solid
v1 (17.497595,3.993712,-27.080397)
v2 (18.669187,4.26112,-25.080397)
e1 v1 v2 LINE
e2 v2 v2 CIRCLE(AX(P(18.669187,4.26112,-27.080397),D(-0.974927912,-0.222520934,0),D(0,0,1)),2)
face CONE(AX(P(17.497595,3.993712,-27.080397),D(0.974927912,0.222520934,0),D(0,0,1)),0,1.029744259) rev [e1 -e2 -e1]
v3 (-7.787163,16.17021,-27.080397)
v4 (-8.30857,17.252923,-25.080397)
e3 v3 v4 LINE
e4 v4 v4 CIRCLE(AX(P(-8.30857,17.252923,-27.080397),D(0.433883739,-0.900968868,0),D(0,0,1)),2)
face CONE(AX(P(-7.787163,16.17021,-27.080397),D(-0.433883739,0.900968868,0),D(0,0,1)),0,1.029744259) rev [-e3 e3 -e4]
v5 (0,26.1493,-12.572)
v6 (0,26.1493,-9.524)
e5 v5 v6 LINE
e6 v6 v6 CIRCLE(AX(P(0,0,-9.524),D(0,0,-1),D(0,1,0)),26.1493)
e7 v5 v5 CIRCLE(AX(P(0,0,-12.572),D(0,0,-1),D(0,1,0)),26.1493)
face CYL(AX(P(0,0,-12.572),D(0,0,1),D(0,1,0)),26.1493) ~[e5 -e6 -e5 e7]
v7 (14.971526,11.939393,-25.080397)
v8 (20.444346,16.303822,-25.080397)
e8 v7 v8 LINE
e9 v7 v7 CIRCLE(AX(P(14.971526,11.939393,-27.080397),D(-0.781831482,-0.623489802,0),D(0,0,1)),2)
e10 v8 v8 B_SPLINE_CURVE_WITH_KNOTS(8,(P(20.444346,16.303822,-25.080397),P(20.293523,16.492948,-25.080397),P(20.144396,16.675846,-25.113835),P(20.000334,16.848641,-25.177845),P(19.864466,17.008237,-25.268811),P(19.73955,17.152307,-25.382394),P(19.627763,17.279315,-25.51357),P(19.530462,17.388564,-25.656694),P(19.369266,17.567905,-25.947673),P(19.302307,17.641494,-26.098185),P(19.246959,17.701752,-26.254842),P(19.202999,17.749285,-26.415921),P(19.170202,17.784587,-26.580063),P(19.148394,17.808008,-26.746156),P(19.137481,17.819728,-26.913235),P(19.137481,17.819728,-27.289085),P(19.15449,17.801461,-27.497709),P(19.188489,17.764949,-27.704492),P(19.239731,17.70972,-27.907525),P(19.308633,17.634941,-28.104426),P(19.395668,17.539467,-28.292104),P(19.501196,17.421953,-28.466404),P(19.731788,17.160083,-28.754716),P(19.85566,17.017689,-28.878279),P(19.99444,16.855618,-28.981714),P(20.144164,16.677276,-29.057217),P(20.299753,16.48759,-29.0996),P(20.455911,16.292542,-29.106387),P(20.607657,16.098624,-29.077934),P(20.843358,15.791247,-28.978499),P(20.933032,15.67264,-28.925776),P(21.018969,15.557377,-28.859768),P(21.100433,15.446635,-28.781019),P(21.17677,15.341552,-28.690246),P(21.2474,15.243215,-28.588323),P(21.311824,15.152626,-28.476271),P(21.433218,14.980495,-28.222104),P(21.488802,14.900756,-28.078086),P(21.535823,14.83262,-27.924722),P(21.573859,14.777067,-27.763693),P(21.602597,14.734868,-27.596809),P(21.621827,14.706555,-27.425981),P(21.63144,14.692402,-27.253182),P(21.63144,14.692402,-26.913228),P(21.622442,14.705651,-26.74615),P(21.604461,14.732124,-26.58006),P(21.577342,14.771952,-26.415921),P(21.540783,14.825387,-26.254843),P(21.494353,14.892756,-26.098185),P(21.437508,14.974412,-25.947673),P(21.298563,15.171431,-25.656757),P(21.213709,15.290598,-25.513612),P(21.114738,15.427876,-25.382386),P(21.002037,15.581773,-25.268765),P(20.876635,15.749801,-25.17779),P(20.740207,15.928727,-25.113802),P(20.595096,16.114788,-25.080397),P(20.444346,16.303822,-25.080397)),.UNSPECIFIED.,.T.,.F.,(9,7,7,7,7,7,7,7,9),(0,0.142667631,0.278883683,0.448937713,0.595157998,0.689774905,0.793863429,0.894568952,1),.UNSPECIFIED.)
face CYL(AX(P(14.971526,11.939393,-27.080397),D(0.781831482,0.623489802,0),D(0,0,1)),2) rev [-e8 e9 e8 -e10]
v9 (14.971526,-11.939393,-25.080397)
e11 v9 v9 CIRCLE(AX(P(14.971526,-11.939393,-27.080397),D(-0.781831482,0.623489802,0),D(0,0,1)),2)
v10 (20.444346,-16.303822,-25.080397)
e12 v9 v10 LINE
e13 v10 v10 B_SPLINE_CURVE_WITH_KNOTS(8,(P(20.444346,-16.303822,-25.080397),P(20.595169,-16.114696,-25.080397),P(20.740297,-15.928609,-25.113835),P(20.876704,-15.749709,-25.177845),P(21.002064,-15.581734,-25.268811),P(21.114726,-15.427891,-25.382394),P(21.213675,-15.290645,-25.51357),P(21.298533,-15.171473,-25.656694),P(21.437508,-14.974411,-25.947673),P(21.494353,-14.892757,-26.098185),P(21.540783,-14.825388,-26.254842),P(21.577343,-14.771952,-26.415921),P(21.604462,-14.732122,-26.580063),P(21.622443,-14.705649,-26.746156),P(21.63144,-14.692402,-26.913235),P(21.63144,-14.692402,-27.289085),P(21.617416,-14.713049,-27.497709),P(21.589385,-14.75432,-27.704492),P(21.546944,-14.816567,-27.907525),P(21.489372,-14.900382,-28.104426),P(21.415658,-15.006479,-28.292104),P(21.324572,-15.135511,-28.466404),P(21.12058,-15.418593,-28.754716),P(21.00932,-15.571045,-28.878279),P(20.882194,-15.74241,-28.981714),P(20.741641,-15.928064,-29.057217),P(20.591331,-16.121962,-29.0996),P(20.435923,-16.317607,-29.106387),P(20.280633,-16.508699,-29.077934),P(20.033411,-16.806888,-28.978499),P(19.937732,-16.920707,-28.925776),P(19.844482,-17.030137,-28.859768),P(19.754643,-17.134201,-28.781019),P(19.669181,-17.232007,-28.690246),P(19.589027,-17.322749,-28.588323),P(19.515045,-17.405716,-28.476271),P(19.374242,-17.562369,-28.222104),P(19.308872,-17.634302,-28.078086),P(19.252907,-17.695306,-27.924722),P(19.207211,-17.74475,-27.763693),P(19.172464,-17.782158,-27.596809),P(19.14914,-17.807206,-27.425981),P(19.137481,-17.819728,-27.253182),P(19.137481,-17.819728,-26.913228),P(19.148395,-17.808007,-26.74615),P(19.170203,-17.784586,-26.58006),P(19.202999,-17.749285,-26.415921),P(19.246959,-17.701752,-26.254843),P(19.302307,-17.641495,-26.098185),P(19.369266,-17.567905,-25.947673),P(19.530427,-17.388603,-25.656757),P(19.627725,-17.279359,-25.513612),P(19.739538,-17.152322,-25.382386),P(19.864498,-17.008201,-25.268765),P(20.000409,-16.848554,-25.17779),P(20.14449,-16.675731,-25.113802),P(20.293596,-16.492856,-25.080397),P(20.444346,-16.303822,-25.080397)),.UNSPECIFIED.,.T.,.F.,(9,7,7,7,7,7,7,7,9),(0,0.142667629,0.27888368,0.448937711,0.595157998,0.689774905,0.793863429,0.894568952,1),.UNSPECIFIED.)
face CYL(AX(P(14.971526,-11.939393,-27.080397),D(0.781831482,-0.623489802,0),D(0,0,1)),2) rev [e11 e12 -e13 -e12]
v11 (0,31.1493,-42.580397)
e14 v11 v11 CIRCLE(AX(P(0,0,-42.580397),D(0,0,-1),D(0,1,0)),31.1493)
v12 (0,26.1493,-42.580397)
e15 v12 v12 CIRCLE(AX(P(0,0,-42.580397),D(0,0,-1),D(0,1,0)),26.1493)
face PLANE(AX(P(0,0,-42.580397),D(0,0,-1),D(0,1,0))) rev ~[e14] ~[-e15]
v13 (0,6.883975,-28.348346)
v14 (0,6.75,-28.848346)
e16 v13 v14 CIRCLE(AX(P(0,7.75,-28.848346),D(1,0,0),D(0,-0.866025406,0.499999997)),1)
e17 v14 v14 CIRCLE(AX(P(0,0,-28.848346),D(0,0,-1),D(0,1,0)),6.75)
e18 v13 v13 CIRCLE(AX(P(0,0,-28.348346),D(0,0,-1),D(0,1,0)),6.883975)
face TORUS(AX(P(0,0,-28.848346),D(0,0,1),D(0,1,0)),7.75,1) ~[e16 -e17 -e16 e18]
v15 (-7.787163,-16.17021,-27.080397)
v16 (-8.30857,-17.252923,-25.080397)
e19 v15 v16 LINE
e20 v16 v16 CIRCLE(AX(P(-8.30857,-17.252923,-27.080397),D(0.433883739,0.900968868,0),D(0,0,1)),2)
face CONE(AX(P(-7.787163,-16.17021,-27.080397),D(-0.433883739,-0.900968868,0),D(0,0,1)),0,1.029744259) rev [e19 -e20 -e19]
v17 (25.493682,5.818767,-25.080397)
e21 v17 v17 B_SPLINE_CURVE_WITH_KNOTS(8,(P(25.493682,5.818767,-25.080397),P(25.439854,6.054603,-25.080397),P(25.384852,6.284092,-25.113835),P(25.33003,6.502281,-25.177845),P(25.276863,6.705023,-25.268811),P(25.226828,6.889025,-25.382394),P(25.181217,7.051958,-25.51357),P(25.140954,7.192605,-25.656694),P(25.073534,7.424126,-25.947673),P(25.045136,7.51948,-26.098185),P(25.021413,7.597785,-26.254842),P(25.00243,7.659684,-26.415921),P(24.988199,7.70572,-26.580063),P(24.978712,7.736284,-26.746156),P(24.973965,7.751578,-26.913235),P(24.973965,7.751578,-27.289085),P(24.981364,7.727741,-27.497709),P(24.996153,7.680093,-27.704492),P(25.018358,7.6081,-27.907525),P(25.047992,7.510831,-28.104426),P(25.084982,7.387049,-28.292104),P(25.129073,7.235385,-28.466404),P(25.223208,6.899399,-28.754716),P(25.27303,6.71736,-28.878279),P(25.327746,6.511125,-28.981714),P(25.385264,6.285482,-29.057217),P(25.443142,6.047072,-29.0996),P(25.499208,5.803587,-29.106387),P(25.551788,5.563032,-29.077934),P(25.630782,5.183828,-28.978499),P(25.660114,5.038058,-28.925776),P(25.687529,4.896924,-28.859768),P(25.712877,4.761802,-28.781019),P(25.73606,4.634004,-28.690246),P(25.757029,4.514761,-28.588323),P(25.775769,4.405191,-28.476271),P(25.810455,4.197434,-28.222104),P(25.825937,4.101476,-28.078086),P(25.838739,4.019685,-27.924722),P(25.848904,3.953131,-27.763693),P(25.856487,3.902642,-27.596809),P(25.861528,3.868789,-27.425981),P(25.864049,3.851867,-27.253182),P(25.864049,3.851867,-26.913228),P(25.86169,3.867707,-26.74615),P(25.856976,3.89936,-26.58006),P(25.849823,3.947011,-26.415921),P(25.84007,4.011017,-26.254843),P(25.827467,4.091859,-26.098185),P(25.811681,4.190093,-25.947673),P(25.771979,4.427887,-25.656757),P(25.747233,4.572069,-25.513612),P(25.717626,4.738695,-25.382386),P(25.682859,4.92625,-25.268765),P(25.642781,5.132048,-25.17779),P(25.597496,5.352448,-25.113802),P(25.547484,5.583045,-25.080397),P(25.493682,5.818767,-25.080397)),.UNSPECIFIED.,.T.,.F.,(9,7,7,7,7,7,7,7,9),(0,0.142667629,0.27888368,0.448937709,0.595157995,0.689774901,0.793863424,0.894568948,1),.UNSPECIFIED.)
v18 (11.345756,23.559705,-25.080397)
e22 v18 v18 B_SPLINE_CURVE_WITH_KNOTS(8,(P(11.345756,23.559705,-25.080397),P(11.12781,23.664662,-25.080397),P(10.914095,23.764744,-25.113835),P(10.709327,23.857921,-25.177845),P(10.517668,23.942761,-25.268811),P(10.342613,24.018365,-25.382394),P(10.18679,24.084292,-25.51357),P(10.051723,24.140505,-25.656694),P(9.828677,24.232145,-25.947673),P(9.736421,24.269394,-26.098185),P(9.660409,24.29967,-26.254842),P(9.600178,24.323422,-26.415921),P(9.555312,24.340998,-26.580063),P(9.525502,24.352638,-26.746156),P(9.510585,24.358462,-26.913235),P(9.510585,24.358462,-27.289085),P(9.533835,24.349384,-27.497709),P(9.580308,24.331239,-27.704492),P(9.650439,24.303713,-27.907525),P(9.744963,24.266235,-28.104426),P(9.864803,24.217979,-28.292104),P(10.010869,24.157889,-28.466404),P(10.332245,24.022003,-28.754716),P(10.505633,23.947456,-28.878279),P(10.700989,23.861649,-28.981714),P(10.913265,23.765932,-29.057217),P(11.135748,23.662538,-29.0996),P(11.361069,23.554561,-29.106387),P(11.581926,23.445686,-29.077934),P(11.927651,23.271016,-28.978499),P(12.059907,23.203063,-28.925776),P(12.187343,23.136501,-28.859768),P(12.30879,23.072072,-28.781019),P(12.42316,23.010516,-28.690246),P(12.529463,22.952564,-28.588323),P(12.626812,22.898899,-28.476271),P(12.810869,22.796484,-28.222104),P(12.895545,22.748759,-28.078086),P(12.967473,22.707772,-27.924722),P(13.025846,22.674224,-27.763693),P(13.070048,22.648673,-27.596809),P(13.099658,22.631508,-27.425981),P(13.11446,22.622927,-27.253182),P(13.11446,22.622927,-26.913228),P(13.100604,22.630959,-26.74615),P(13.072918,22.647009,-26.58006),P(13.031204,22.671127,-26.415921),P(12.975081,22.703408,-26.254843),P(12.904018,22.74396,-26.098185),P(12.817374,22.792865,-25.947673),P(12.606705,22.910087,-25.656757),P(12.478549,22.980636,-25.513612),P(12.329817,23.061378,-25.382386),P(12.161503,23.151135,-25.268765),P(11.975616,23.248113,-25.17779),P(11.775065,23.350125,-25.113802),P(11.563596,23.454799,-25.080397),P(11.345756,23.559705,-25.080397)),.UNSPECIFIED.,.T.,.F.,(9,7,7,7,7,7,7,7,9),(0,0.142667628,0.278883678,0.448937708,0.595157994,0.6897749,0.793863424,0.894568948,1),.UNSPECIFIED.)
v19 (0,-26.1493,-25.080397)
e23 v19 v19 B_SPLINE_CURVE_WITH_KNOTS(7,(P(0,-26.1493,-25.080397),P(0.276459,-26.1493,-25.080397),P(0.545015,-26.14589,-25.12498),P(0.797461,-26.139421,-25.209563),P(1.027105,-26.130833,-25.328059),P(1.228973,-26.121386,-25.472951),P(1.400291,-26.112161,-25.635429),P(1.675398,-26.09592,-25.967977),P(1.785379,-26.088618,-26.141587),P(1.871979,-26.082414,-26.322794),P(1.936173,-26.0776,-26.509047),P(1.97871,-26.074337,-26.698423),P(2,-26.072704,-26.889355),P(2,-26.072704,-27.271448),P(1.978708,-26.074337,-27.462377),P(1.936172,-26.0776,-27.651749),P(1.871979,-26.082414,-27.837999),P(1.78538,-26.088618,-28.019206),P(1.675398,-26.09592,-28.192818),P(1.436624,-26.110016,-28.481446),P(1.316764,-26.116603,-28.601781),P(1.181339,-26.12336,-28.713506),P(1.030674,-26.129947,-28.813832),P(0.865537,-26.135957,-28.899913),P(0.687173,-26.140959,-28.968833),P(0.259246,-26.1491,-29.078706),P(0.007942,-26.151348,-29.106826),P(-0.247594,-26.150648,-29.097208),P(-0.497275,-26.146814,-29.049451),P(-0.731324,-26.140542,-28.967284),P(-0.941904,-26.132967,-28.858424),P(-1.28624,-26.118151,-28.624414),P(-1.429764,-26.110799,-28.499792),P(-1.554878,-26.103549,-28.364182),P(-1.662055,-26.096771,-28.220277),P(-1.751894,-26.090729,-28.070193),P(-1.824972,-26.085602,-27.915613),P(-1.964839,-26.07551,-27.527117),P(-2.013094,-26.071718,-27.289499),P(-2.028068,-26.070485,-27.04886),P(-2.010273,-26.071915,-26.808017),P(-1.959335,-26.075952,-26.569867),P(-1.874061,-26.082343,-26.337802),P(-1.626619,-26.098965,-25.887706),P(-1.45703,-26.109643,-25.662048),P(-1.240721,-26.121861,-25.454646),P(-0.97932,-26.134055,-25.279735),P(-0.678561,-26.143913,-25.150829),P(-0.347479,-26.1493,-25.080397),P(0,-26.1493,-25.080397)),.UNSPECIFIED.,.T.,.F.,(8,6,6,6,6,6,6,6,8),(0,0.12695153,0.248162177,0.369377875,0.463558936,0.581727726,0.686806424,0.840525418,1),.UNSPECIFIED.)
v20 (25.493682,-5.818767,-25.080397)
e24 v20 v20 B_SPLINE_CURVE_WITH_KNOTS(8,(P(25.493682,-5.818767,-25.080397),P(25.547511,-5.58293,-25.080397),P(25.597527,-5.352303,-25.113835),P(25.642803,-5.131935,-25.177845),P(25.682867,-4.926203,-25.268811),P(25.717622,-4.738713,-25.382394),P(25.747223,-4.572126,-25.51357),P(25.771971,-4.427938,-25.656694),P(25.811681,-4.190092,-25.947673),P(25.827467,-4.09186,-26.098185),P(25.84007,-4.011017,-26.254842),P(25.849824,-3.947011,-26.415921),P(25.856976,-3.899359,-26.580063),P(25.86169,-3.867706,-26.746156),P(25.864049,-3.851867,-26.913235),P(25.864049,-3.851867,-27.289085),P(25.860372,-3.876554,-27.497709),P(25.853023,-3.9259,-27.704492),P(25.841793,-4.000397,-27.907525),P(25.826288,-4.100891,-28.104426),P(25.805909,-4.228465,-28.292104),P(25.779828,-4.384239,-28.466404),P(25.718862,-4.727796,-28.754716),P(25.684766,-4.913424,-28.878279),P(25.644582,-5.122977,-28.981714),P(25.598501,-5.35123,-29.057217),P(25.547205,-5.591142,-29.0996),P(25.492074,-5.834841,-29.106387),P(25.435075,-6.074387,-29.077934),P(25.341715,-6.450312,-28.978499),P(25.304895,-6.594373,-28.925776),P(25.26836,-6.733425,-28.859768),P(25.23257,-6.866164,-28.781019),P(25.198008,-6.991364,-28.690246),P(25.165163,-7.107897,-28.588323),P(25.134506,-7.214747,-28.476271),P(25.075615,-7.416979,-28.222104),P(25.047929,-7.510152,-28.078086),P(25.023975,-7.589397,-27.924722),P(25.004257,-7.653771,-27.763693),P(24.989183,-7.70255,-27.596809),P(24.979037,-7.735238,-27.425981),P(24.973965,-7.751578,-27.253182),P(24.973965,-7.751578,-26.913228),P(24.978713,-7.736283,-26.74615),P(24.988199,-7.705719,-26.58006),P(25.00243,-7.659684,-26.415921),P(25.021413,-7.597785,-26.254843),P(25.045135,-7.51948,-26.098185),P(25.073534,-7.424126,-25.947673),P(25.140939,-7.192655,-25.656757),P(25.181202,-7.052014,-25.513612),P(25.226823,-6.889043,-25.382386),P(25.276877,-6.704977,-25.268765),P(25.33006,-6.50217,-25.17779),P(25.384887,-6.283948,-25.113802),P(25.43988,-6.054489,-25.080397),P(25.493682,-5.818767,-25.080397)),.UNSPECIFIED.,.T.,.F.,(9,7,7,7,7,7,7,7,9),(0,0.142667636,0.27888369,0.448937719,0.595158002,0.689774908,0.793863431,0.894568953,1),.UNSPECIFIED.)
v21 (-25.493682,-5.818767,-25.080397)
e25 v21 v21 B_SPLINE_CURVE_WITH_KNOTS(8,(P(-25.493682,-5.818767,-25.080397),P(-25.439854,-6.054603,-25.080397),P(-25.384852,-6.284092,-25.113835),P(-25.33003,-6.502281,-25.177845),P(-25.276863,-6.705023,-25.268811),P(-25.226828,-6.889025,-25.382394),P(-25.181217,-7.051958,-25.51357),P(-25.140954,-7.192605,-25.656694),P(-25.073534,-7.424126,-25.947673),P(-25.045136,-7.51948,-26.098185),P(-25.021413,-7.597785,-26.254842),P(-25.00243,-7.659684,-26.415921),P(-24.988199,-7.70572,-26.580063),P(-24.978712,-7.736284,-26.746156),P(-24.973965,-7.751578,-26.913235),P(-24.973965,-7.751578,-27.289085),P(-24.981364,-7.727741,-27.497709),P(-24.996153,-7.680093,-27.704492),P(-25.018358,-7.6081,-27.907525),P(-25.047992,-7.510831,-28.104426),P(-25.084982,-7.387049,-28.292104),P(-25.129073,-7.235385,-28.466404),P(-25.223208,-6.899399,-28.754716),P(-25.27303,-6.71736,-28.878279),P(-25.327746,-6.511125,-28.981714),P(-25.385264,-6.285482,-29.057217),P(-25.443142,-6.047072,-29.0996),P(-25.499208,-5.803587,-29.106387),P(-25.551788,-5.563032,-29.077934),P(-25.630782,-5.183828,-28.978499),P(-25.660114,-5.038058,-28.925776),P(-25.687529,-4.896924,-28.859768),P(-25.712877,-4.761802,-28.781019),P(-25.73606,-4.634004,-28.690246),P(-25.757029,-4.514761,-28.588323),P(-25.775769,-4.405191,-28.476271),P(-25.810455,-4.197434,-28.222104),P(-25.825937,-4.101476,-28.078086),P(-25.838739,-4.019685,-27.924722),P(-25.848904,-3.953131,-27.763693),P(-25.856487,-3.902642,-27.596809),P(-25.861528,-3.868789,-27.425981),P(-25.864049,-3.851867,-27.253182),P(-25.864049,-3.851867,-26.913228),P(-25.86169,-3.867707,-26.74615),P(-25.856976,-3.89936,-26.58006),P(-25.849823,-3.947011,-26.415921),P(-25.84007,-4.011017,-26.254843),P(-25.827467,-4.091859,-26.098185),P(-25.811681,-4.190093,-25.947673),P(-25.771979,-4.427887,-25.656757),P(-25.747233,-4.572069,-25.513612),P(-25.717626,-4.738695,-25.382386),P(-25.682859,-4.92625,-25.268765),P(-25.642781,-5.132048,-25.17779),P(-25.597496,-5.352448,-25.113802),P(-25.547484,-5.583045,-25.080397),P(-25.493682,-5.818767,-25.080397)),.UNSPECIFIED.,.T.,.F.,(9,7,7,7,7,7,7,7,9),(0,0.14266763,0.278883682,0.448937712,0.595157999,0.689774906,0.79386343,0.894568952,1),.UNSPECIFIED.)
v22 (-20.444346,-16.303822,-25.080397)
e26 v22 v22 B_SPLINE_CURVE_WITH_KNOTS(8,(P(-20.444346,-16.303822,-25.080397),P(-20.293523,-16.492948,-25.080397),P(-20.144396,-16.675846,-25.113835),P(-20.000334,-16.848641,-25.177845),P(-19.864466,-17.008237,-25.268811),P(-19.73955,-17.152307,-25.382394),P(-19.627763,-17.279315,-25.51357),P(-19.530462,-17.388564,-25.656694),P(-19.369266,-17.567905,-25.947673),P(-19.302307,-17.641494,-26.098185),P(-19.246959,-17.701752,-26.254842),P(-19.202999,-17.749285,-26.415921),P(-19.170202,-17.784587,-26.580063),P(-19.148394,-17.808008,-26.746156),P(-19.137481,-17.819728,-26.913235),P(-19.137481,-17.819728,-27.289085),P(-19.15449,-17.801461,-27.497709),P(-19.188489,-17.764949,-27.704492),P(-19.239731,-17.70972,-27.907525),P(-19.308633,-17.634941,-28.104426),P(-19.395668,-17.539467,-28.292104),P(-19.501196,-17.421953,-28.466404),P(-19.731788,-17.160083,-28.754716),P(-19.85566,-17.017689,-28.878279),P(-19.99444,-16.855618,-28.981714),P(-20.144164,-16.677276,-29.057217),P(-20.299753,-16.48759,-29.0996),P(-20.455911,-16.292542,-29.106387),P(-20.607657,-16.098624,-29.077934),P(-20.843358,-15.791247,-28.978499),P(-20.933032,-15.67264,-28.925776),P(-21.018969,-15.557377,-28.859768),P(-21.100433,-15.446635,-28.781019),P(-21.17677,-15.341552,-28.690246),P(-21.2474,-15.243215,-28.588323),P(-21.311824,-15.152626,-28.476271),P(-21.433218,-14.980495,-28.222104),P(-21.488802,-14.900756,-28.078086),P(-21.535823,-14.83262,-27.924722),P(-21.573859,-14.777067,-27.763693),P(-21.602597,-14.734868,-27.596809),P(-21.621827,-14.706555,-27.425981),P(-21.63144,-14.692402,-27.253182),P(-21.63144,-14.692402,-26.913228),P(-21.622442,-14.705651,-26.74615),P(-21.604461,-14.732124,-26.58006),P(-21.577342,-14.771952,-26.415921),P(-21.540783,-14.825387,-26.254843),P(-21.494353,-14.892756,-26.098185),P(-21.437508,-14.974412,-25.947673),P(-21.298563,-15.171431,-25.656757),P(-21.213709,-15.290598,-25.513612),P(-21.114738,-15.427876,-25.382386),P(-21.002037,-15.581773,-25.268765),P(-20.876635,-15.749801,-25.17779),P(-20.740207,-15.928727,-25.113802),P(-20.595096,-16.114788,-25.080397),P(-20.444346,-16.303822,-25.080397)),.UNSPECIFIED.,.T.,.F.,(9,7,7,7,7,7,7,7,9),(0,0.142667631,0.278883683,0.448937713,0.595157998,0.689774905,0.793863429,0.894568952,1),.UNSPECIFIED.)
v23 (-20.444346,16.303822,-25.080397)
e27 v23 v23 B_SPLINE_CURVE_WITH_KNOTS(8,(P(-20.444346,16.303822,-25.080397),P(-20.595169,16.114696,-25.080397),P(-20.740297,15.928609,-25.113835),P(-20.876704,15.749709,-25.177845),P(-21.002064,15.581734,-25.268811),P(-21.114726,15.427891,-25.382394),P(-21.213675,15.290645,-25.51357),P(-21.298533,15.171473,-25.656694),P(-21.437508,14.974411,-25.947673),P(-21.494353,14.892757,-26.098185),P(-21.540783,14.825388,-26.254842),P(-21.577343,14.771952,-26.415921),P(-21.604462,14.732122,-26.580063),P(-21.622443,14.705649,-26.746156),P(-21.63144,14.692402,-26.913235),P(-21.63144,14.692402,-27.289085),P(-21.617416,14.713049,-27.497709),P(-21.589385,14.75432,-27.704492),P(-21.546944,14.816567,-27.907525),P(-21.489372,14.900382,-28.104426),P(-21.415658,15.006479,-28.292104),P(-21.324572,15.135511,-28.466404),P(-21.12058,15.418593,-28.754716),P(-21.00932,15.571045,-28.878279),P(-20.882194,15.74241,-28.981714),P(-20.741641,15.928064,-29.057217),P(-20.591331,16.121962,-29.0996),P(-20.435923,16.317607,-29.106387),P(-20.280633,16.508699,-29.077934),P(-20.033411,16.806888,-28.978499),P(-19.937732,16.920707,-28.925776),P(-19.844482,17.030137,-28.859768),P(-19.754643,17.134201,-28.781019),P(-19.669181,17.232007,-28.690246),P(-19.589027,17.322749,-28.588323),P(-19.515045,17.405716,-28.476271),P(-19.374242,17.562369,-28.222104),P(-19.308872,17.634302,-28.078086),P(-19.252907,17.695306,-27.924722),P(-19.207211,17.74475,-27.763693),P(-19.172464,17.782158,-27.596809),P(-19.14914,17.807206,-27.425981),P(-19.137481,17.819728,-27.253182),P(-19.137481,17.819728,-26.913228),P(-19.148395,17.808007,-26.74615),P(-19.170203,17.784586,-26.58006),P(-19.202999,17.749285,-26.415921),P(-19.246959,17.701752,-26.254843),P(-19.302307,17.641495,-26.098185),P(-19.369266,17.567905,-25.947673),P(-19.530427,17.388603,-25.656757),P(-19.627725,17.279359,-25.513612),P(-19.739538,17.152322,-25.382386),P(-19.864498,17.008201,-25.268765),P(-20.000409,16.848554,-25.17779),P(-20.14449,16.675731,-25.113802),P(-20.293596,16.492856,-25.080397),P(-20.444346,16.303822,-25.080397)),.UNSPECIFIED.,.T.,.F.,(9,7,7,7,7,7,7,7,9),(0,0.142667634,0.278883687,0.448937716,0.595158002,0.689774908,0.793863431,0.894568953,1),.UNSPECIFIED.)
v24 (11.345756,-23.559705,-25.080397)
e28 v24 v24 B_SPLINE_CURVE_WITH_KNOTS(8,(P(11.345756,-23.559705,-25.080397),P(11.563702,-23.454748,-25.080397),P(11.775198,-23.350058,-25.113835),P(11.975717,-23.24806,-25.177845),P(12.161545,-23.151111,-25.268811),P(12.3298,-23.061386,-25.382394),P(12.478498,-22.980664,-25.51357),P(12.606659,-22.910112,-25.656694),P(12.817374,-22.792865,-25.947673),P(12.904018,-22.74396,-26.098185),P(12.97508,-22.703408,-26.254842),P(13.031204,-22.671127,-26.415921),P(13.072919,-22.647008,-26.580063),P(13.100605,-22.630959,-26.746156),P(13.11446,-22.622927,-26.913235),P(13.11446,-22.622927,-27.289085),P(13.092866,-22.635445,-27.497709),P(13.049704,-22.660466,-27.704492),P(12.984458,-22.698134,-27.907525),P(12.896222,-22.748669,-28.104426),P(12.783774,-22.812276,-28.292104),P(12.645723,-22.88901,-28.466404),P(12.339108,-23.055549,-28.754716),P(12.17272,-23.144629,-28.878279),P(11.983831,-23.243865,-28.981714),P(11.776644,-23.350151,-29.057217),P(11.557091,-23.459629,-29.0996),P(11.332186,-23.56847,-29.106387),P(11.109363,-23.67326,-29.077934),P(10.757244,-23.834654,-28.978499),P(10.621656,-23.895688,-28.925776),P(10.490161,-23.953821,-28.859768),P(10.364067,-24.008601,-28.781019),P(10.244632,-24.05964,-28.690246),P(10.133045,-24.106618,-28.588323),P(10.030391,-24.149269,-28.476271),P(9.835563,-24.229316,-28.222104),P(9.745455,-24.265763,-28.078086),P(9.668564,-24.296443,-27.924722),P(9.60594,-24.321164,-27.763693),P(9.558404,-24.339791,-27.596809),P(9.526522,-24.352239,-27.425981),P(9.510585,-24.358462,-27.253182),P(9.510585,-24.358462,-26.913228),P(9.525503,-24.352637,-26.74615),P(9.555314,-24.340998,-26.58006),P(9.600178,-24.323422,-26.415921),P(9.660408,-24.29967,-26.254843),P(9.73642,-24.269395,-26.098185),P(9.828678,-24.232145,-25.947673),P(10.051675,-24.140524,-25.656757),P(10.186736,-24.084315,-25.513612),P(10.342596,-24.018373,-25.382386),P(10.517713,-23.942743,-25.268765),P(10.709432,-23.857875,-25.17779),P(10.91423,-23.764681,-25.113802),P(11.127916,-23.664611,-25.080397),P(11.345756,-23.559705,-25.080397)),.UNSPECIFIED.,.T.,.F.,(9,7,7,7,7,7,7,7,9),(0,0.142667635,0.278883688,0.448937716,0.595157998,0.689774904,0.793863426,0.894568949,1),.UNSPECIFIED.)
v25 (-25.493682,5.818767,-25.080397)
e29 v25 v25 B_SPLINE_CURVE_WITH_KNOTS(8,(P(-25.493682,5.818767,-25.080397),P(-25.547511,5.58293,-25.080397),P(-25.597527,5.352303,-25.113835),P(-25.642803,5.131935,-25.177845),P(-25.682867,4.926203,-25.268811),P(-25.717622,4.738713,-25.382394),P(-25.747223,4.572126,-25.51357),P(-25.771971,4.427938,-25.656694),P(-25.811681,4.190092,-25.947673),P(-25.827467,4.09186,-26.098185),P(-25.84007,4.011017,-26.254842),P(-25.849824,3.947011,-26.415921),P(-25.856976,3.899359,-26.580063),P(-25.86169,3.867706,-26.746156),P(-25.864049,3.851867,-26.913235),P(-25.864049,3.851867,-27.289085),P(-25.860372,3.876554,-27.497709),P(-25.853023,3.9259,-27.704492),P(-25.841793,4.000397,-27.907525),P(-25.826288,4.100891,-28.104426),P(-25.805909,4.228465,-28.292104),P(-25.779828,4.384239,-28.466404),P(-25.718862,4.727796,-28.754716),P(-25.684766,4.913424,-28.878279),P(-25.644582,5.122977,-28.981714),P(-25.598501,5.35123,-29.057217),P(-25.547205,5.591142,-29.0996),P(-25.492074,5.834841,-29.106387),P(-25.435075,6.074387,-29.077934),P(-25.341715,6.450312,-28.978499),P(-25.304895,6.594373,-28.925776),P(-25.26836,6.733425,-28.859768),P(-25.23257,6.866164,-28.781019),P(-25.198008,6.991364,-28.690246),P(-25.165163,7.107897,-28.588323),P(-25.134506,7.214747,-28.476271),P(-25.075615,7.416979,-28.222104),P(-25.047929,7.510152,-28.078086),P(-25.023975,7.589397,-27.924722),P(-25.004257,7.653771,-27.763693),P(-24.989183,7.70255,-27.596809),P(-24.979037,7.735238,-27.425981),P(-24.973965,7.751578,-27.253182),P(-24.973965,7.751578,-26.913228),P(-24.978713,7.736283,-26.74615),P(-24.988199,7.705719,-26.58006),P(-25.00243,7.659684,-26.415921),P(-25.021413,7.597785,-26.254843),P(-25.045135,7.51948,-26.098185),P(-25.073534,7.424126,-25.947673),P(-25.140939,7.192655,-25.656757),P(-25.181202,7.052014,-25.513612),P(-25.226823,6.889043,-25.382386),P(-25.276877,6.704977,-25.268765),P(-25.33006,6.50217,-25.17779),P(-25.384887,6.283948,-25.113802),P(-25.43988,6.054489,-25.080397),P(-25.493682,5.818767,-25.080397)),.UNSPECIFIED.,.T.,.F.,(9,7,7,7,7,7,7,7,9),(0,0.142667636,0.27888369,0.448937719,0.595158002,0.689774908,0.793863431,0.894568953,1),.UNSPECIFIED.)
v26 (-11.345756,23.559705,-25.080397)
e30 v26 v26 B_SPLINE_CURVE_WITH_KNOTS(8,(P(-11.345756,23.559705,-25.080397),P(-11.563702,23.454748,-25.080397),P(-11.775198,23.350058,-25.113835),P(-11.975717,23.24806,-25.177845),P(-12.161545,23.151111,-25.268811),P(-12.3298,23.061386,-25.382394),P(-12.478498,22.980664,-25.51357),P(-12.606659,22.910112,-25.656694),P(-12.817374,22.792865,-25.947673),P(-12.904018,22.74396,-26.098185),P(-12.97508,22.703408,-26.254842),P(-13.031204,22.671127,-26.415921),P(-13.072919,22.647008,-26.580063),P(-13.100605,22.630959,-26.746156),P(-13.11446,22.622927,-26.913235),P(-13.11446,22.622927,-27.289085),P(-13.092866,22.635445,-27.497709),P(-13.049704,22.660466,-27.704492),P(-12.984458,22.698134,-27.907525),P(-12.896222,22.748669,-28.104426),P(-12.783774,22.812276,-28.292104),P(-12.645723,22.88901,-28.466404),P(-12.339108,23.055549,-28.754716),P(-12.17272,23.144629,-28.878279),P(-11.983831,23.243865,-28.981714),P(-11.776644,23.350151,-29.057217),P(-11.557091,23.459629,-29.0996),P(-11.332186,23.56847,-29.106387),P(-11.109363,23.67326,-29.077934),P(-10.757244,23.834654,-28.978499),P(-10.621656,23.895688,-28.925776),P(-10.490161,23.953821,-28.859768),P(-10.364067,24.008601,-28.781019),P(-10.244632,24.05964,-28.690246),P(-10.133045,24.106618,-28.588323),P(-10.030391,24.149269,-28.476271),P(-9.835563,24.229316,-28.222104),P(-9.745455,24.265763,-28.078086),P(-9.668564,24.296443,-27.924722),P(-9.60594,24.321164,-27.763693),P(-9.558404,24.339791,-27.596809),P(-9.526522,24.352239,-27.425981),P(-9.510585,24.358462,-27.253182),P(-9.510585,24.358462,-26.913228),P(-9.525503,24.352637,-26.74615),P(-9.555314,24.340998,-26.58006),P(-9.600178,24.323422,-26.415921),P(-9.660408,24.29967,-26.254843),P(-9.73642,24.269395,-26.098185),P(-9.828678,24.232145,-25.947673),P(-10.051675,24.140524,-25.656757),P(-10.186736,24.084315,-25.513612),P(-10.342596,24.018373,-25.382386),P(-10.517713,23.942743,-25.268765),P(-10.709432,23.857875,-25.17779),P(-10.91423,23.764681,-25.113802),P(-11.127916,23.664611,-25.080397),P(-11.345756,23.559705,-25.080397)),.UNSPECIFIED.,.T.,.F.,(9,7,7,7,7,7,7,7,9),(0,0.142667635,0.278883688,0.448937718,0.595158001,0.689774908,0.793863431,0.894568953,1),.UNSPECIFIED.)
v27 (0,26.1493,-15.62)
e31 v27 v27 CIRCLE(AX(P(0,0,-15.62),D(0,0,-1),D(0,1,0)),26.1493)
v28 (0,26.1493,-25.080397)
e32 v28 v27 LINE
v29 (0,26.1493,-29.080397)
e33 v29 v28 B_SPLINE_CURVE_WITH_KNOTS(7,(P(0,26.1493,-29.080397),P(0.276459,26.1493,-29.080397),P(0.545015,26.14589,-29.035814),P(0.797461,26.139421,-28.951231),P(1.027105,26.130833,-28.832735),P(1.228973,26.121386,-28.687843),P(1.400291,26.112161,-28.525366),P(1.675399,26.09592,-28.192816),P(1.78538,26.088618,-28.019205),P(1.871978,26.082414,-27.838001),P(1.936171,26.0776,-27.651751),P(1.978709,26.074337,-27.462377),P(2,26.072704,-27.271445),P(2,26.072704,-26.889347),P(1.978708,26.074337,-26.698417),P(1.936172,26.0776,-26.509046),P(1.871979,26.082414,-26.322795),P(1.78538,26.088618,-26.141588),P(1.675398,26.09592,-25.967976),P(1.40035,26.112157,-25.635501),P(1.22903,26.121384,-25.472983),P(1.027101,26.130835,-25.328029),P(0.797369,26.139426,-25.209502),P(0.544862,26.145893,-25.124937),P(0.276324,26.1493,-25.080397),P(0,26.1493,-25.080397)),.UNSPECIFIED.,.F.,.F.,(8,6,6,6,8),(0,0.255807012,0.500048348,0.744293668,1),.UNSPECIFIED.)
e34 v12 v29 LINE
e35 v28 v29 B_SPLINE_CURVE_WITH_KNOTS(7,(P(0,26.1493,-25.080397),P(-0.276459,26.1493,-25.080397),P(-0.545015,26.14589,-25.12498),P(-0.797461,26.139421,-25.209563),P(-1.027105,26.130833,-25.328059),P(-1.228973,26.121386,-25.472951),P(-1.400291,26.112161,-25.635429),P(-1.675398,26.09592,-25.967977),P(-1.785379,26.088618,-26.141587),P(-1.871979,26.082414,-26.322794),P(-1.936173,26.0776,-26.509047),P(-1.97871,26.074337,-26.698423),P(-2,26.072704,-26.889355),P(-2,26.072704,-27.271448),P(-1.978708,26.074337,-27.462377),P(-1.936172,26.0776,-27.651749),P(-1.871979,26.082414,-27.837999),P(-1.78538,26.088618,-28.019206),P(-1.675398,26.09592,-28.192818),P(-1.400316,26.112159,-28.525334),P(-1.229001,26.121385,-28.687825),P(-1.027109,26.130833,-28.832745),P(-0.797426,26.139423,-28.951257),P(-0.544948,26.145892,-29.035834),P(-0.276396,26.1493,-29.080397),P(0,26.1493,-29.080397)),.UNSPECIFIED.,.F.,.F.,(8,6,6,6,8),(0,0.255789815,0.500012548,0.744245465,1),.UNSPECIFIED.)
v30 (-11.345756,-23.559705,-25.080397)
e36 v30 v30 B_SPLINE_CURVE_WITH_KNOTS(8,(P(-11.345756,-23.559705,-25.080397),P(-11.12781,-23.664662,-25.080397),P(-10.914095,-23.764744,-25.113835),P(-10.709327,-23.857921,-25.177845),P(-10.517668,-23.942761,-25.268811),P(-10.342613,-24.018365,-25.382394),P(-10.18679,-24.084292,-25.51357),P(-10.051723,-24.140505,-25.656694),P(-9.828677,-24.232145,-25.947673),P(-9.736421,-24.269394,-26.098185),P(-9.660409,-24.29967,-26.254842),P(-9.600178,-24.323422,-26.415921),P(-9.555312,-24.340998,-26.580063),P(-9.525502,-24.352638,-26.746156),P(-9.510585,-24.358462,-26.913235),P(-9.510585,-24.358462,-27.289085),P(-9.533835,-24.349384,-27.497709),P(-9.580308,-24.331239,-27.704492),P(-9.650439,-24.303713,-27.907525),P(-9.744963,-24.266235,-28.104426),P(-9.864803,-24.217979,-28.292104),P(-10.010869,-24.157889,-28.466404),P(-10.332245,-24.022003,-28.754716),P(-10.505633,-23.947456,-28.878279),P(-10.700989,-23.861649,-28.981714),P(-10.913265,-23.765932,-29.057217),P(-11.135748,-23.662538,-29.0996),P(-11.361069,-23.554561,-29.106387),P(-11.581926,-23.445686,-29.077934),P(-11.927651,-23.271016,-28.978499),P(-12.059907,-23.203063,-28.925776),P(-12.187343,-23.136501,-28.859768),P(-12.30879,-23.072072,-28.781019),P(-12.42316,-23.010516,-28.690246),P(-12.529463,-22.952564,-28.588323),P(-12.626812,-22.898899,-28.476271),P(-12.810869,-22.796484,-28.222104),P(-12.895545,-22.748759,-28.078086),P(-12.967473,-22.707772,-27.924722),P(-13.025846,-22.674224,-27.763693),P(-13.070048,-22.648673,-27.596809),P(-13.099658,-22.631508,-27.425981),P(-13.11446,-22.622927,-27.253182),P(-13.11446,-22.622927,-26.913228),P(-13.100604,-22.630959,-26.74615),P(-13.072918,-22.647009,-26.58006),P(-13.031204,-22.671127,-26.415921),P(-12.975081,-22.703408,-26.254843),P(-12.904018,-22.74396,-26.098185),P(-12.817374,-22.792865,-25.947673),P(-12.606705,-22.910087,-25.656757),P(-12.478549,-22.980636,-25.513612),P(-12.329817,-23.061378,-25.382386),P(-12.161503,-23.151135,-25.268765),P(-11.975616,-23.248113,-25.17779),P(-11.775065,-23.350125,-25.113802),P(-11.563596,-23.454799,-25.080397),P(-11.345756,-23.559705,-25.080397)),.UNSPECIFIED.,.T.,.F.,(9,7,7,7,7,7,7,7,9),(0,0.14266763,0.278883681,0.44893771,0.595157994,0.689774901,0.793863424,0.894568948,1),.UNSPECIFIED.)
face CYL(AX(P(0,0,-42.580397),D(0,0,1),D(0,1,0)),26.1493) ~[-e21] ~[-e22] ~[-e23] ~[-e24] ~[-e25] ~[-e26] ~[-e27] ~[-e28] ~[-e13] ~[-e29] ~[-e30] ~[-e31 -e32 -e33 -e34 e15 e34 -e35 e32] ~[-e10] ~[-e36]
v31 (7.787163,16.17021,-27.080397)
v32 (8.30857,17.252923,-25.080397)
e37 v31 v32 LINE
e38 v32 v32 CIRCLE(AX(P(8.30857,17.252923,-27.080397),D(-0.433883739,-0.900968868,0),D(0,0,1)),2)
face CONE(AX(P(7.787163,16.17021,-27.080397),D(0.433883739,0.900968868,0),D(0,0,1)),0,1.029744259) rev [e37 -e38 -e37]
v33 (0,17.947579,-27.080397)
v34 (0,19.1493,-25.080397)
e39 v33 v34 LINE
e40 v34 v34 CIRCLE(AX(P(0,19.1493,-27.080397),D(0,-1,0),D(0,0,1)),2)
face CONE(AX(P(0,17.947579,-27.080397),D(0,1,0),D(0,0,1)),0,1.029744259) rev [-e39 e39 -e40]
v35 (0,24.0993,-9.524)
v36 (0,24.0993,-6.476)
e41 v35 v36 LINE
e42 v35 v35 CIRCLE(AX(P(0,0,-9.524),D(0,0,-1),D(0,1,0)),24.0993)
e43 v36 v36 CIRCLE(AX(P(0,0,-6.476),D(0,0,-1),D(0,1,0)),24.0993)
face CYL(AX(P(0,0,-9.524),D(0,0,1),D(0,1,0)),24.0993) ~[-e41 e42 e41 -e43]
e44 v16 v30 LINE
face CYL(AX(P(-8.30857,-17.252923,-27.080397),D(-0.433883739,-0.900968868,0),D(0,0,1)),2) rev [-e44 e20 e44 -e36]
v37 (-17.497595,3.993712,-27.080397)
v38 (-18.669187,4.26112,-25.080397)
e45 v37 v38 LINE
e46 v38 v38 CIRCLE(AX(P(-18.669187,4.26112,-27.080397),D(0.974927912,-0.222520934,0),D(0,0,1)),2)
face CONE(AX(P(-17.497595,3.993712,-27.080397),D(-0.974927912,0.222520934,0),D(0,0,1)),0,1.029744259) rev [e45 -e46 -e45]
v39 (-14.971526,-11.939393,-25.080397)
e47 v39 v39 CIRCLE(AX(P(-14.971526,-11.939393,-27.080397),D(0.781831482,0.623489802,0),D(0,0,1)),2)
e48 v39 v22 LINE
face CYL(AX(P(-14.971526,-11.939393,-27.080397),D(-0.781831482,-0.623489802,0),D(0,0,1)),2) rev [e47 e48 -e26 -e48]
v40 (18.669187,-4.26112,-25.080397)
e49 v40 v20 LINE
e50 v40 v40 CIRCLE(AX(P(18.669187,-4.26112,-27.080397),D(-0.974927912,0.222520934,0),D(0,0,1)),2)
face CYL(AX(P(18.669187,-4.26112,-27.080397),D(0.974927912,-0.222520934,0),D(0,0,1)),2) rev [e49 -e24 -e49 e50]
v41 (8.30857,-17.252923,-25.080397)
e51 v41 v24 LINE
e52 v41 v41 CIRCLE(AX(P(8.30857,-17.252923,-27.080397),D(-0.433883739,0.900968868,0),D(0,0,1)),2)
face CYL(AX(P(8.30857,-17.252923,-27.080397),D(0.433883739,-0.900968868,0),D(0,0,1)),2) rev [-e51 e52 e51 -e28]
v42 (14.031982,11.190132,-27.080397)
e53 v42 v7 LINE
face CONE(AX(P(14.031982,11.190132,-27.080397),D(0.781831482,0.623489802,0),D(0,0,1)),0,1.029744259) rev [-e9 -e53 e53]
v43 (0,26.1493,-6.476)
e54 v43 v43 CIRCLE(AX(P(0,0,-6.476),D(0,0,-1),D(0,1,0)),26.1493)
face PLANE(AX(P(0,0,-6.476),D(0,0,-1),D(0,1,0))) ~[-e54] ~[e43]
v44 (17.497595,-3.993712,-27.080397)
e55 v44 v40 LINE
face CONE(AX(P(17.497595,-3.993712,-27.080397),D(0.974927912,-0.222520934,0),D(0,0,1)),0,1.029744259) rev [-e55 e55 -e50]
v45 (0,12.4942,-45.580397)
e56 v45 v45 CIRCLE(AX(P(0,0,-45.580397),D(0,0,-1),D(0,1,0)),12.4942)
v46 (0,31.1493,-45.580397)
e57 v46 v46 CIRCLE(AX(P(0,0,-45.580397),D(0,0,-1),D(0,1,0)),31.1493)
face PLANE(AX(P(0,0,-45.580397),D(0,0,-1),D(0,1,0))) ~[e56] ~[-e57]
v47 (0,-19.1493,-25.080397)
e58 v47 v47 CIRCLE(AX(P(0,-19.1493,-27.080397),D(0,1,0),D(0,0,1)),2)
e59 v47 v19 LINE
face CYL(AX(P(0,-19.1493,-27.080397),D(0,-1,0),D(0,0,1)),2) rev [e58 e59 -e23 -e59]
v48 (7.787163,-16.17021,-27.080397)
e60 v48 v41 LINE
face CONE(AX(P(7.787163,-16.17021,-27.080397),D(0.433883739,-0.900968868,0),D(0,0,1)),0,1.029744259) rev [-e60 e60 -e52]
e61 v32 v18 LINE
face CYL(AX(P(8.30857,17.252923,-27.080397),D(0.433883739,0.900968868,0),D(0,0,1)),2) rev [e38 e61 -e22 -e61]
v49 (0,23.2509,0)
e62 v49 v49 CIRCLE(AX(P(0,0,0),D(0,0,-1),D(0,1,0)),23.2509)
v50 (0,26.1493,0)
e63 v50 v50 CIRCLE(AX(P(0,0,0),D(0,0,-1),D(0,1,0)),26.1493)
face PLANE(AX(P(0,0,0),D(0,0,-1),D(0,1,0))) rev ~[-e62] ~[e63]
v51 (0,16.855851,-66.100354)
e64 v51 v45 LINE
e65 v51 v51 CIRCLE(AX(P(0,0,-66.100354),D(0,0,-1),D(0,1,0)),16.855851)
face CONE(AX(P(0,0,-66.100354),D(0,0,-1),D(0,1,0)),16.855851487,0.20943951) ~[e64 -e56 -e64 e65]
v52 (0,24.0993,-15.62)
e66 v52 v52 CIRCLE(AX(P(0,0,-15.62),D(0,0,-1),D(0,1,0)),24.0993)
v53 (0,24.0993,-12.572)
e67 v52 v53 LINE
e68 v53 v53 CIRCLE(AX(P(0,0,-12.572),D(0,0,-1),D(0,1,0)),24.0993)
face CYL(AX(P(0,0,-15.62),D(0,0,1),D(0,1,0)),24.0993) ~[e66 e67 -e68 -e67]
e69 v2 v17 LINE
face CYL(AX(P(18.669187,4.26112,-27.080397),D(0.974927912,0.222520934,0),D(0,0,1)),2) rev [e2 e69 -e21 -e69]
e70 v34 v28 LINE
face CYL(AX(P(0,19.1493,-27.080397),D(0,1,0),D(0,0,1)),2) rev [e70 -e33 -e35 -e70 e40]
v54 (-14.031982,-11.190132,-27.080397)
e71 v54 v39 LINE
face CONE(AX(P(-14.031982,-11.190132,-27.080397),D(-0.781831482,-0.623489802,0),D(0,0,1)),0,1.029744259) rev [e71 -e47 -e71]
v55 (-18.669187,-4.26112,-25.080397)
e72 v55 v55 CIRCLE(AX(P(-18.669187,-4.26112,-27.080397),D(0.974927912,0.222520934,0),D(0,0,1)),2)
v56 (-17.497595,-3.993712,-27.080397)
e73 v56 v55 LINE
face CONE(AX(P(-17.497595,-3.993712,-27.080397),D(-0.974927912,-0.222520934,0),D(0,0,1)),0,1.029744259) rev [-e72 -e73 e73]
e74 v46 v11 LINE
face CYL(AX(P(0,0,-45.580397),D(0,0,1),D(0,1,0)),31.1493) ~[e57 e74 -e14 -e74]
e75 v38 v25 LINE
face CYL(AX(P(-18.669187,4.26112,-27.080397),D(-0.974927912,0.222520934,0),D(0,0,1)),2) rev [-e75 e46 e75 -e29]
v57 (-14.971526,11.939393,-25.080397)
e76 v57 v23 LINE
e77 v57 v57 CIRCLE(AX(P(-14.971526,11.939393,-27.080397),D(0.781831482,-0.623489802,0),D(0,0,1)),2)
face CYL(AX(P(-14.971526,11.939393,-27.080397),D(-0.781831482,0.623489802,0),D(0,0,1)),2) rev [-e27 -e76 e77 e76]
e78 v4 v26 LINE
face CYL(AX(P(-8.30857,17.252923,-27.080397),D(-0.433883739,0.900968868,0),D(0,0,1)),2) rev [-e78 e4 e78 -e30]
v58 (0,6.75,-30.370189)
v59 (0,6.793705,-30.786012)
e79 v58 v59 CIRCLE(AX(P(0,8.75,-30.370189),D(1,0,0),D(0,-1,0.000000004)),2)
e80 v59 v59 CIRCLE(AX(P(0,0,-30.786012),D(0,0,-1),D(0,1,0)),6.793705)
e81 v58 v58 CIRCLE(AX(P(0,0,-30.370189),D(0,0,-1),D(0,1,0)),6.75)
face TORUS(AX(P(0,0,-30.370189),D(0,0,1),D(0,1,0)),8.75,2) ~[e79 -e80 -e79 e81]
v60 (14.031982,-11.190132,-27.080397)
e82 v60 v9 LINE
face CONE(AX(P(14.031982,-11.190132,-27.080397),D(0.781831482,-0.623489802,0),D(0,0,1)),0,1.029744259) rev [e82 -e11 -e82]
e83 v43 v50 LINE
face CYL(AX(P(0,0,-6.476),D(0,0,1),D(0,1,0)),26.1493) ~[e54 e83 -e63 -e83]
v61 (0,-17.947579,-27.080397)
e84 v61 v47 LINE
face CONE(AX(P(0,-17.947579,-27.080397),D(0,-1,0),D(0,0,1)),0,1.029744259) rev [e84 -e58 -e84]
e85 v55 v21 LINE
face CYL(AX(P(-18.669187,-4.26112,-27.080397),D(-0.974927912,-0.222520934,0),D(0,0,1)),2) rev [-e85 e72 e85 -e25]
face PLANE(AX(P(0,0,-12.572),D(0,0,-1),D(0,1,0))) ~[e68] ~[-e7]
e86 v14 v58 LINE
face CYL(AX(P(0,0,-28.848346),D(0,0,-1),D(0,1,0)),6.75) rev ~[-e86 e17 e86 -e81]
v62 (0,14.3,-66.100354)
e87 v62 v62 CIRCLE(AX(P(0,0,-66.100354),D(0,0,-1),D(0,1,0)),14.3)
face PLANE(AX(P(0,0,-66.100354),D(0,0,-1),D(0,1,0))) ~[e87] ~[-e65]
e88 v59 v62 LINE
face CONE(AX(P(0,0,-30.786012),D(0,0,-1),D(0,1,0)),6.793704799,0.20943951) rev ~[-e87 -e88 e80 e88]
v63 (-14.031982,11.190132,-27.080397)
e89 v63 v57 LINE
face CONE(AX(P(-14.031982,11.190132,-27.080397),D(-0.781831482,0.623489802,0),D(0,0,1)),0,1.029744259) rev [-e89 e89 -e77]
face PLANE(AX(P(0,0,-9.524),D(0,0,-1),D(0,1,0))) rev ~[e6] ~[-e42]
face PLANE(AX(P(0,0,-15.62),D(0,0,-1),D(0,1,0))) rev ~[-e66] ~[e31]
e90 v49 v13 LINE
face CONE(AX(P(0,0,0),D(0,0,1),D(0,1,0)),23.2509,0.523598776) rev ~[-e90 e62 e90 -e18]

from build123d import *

# Parameters (mm, degrees)
MATRIZC1_COUNT = 14


with BuildPart() as part:
    # Croquis2 → Revolución1 (revolve)
    with BuildSketch(Plane(origin=(0, 0, 0), x_dir=(0, 0, -1), z_dir=(1, 0, 0))):
        with BuildLine():
            Line((0, 23.2509), (28.348346363, 6.883974596))
            ThreePointArc((28.348346363, 6.883974596), (28.589527318, 6.784074174), (28.848346363, 6.75))
            Line((28.848346363, 6.75), (30.3701887, 6.75))
            ThreePointArc((30.3701887, 6.75), (30.579245627, 6.760956209), (30.786012082, 6.793704799))
            Line((30.786012082, 6.793704799), (66.100354497, 14.3))
            Line((66.100354497, 14.3), (66.100354497, 16.855851487))
            Line((66.100354497, 16.855851487), (45.580397171, 12.494199912))
            Line((45.580397171, 12.494199912), (45.580397171, 26.0993))
            Line((45.580397171, 26.0993), (45.580397171, 31.1493))
            Line((45.580397171, 31.1493), (42.580397171, 31.1493))
            Line((42.580397171, 31.1493), (42.580397171, 26.1493))
            Line((42.580397171, 26.1493), (15.62, 26.1493))
            Line((15.62, 26.1493), (15.62, 24.0993))
            Line((15.62, 24.0993), (12.572, 24.0993))
            Line((12.572, 24.0993), (12.572, 26.1493))
            Line((12.572, 26.1493), (9.524, 26.1493))
            Line((9.524, 26.1493), (9.524, 24.0993))
            Line((9.524, 24.0993), (6.476, 24.0993))
            Line((6.476, 24.0993), (6.476, 26.1493))
            Line((6.476, 26.1493), (0, 26.1493))
            Line((0, 26.1493), (0, 23.2509))
        make_face()
    revolve(axis=Axis((0, 0, 14.017218159), (0, 0, -1)))

    # Croquis5 → Ø4.0mm Dowel Hole1 (revolve, cut)
    with BuildSketch(Plane(origin=(0, 26.1493, -27.080397171), x_dir=(0, 0, 1), z_dir=(1, 0, 0))):
        Polygon((0, 0), (0, 8.201721238), (2, 7), (2, 0), align=None)
    f_4_0mm_dowel_hole1 = revolve(axis=Axis((0, 32.4993, -27.080397171), (0, -1, 0)), mode=Mode.SUBTRACT)

    # MatrizC1: Ø4.0mm Dowel Hole1 ×14 about axis
    matrizc1_axis = Axis((0, 0, -15.62), (0, 0, 1))
    for i in range(1, MATRIZC1_COUNT):
        add(f_4_0mm_dowel_hole1.rotate(matrizc1_axis, i * 360 / MATRIZC1_COUNT), mode=Mode.SUBTRACT)


solid = part.part
